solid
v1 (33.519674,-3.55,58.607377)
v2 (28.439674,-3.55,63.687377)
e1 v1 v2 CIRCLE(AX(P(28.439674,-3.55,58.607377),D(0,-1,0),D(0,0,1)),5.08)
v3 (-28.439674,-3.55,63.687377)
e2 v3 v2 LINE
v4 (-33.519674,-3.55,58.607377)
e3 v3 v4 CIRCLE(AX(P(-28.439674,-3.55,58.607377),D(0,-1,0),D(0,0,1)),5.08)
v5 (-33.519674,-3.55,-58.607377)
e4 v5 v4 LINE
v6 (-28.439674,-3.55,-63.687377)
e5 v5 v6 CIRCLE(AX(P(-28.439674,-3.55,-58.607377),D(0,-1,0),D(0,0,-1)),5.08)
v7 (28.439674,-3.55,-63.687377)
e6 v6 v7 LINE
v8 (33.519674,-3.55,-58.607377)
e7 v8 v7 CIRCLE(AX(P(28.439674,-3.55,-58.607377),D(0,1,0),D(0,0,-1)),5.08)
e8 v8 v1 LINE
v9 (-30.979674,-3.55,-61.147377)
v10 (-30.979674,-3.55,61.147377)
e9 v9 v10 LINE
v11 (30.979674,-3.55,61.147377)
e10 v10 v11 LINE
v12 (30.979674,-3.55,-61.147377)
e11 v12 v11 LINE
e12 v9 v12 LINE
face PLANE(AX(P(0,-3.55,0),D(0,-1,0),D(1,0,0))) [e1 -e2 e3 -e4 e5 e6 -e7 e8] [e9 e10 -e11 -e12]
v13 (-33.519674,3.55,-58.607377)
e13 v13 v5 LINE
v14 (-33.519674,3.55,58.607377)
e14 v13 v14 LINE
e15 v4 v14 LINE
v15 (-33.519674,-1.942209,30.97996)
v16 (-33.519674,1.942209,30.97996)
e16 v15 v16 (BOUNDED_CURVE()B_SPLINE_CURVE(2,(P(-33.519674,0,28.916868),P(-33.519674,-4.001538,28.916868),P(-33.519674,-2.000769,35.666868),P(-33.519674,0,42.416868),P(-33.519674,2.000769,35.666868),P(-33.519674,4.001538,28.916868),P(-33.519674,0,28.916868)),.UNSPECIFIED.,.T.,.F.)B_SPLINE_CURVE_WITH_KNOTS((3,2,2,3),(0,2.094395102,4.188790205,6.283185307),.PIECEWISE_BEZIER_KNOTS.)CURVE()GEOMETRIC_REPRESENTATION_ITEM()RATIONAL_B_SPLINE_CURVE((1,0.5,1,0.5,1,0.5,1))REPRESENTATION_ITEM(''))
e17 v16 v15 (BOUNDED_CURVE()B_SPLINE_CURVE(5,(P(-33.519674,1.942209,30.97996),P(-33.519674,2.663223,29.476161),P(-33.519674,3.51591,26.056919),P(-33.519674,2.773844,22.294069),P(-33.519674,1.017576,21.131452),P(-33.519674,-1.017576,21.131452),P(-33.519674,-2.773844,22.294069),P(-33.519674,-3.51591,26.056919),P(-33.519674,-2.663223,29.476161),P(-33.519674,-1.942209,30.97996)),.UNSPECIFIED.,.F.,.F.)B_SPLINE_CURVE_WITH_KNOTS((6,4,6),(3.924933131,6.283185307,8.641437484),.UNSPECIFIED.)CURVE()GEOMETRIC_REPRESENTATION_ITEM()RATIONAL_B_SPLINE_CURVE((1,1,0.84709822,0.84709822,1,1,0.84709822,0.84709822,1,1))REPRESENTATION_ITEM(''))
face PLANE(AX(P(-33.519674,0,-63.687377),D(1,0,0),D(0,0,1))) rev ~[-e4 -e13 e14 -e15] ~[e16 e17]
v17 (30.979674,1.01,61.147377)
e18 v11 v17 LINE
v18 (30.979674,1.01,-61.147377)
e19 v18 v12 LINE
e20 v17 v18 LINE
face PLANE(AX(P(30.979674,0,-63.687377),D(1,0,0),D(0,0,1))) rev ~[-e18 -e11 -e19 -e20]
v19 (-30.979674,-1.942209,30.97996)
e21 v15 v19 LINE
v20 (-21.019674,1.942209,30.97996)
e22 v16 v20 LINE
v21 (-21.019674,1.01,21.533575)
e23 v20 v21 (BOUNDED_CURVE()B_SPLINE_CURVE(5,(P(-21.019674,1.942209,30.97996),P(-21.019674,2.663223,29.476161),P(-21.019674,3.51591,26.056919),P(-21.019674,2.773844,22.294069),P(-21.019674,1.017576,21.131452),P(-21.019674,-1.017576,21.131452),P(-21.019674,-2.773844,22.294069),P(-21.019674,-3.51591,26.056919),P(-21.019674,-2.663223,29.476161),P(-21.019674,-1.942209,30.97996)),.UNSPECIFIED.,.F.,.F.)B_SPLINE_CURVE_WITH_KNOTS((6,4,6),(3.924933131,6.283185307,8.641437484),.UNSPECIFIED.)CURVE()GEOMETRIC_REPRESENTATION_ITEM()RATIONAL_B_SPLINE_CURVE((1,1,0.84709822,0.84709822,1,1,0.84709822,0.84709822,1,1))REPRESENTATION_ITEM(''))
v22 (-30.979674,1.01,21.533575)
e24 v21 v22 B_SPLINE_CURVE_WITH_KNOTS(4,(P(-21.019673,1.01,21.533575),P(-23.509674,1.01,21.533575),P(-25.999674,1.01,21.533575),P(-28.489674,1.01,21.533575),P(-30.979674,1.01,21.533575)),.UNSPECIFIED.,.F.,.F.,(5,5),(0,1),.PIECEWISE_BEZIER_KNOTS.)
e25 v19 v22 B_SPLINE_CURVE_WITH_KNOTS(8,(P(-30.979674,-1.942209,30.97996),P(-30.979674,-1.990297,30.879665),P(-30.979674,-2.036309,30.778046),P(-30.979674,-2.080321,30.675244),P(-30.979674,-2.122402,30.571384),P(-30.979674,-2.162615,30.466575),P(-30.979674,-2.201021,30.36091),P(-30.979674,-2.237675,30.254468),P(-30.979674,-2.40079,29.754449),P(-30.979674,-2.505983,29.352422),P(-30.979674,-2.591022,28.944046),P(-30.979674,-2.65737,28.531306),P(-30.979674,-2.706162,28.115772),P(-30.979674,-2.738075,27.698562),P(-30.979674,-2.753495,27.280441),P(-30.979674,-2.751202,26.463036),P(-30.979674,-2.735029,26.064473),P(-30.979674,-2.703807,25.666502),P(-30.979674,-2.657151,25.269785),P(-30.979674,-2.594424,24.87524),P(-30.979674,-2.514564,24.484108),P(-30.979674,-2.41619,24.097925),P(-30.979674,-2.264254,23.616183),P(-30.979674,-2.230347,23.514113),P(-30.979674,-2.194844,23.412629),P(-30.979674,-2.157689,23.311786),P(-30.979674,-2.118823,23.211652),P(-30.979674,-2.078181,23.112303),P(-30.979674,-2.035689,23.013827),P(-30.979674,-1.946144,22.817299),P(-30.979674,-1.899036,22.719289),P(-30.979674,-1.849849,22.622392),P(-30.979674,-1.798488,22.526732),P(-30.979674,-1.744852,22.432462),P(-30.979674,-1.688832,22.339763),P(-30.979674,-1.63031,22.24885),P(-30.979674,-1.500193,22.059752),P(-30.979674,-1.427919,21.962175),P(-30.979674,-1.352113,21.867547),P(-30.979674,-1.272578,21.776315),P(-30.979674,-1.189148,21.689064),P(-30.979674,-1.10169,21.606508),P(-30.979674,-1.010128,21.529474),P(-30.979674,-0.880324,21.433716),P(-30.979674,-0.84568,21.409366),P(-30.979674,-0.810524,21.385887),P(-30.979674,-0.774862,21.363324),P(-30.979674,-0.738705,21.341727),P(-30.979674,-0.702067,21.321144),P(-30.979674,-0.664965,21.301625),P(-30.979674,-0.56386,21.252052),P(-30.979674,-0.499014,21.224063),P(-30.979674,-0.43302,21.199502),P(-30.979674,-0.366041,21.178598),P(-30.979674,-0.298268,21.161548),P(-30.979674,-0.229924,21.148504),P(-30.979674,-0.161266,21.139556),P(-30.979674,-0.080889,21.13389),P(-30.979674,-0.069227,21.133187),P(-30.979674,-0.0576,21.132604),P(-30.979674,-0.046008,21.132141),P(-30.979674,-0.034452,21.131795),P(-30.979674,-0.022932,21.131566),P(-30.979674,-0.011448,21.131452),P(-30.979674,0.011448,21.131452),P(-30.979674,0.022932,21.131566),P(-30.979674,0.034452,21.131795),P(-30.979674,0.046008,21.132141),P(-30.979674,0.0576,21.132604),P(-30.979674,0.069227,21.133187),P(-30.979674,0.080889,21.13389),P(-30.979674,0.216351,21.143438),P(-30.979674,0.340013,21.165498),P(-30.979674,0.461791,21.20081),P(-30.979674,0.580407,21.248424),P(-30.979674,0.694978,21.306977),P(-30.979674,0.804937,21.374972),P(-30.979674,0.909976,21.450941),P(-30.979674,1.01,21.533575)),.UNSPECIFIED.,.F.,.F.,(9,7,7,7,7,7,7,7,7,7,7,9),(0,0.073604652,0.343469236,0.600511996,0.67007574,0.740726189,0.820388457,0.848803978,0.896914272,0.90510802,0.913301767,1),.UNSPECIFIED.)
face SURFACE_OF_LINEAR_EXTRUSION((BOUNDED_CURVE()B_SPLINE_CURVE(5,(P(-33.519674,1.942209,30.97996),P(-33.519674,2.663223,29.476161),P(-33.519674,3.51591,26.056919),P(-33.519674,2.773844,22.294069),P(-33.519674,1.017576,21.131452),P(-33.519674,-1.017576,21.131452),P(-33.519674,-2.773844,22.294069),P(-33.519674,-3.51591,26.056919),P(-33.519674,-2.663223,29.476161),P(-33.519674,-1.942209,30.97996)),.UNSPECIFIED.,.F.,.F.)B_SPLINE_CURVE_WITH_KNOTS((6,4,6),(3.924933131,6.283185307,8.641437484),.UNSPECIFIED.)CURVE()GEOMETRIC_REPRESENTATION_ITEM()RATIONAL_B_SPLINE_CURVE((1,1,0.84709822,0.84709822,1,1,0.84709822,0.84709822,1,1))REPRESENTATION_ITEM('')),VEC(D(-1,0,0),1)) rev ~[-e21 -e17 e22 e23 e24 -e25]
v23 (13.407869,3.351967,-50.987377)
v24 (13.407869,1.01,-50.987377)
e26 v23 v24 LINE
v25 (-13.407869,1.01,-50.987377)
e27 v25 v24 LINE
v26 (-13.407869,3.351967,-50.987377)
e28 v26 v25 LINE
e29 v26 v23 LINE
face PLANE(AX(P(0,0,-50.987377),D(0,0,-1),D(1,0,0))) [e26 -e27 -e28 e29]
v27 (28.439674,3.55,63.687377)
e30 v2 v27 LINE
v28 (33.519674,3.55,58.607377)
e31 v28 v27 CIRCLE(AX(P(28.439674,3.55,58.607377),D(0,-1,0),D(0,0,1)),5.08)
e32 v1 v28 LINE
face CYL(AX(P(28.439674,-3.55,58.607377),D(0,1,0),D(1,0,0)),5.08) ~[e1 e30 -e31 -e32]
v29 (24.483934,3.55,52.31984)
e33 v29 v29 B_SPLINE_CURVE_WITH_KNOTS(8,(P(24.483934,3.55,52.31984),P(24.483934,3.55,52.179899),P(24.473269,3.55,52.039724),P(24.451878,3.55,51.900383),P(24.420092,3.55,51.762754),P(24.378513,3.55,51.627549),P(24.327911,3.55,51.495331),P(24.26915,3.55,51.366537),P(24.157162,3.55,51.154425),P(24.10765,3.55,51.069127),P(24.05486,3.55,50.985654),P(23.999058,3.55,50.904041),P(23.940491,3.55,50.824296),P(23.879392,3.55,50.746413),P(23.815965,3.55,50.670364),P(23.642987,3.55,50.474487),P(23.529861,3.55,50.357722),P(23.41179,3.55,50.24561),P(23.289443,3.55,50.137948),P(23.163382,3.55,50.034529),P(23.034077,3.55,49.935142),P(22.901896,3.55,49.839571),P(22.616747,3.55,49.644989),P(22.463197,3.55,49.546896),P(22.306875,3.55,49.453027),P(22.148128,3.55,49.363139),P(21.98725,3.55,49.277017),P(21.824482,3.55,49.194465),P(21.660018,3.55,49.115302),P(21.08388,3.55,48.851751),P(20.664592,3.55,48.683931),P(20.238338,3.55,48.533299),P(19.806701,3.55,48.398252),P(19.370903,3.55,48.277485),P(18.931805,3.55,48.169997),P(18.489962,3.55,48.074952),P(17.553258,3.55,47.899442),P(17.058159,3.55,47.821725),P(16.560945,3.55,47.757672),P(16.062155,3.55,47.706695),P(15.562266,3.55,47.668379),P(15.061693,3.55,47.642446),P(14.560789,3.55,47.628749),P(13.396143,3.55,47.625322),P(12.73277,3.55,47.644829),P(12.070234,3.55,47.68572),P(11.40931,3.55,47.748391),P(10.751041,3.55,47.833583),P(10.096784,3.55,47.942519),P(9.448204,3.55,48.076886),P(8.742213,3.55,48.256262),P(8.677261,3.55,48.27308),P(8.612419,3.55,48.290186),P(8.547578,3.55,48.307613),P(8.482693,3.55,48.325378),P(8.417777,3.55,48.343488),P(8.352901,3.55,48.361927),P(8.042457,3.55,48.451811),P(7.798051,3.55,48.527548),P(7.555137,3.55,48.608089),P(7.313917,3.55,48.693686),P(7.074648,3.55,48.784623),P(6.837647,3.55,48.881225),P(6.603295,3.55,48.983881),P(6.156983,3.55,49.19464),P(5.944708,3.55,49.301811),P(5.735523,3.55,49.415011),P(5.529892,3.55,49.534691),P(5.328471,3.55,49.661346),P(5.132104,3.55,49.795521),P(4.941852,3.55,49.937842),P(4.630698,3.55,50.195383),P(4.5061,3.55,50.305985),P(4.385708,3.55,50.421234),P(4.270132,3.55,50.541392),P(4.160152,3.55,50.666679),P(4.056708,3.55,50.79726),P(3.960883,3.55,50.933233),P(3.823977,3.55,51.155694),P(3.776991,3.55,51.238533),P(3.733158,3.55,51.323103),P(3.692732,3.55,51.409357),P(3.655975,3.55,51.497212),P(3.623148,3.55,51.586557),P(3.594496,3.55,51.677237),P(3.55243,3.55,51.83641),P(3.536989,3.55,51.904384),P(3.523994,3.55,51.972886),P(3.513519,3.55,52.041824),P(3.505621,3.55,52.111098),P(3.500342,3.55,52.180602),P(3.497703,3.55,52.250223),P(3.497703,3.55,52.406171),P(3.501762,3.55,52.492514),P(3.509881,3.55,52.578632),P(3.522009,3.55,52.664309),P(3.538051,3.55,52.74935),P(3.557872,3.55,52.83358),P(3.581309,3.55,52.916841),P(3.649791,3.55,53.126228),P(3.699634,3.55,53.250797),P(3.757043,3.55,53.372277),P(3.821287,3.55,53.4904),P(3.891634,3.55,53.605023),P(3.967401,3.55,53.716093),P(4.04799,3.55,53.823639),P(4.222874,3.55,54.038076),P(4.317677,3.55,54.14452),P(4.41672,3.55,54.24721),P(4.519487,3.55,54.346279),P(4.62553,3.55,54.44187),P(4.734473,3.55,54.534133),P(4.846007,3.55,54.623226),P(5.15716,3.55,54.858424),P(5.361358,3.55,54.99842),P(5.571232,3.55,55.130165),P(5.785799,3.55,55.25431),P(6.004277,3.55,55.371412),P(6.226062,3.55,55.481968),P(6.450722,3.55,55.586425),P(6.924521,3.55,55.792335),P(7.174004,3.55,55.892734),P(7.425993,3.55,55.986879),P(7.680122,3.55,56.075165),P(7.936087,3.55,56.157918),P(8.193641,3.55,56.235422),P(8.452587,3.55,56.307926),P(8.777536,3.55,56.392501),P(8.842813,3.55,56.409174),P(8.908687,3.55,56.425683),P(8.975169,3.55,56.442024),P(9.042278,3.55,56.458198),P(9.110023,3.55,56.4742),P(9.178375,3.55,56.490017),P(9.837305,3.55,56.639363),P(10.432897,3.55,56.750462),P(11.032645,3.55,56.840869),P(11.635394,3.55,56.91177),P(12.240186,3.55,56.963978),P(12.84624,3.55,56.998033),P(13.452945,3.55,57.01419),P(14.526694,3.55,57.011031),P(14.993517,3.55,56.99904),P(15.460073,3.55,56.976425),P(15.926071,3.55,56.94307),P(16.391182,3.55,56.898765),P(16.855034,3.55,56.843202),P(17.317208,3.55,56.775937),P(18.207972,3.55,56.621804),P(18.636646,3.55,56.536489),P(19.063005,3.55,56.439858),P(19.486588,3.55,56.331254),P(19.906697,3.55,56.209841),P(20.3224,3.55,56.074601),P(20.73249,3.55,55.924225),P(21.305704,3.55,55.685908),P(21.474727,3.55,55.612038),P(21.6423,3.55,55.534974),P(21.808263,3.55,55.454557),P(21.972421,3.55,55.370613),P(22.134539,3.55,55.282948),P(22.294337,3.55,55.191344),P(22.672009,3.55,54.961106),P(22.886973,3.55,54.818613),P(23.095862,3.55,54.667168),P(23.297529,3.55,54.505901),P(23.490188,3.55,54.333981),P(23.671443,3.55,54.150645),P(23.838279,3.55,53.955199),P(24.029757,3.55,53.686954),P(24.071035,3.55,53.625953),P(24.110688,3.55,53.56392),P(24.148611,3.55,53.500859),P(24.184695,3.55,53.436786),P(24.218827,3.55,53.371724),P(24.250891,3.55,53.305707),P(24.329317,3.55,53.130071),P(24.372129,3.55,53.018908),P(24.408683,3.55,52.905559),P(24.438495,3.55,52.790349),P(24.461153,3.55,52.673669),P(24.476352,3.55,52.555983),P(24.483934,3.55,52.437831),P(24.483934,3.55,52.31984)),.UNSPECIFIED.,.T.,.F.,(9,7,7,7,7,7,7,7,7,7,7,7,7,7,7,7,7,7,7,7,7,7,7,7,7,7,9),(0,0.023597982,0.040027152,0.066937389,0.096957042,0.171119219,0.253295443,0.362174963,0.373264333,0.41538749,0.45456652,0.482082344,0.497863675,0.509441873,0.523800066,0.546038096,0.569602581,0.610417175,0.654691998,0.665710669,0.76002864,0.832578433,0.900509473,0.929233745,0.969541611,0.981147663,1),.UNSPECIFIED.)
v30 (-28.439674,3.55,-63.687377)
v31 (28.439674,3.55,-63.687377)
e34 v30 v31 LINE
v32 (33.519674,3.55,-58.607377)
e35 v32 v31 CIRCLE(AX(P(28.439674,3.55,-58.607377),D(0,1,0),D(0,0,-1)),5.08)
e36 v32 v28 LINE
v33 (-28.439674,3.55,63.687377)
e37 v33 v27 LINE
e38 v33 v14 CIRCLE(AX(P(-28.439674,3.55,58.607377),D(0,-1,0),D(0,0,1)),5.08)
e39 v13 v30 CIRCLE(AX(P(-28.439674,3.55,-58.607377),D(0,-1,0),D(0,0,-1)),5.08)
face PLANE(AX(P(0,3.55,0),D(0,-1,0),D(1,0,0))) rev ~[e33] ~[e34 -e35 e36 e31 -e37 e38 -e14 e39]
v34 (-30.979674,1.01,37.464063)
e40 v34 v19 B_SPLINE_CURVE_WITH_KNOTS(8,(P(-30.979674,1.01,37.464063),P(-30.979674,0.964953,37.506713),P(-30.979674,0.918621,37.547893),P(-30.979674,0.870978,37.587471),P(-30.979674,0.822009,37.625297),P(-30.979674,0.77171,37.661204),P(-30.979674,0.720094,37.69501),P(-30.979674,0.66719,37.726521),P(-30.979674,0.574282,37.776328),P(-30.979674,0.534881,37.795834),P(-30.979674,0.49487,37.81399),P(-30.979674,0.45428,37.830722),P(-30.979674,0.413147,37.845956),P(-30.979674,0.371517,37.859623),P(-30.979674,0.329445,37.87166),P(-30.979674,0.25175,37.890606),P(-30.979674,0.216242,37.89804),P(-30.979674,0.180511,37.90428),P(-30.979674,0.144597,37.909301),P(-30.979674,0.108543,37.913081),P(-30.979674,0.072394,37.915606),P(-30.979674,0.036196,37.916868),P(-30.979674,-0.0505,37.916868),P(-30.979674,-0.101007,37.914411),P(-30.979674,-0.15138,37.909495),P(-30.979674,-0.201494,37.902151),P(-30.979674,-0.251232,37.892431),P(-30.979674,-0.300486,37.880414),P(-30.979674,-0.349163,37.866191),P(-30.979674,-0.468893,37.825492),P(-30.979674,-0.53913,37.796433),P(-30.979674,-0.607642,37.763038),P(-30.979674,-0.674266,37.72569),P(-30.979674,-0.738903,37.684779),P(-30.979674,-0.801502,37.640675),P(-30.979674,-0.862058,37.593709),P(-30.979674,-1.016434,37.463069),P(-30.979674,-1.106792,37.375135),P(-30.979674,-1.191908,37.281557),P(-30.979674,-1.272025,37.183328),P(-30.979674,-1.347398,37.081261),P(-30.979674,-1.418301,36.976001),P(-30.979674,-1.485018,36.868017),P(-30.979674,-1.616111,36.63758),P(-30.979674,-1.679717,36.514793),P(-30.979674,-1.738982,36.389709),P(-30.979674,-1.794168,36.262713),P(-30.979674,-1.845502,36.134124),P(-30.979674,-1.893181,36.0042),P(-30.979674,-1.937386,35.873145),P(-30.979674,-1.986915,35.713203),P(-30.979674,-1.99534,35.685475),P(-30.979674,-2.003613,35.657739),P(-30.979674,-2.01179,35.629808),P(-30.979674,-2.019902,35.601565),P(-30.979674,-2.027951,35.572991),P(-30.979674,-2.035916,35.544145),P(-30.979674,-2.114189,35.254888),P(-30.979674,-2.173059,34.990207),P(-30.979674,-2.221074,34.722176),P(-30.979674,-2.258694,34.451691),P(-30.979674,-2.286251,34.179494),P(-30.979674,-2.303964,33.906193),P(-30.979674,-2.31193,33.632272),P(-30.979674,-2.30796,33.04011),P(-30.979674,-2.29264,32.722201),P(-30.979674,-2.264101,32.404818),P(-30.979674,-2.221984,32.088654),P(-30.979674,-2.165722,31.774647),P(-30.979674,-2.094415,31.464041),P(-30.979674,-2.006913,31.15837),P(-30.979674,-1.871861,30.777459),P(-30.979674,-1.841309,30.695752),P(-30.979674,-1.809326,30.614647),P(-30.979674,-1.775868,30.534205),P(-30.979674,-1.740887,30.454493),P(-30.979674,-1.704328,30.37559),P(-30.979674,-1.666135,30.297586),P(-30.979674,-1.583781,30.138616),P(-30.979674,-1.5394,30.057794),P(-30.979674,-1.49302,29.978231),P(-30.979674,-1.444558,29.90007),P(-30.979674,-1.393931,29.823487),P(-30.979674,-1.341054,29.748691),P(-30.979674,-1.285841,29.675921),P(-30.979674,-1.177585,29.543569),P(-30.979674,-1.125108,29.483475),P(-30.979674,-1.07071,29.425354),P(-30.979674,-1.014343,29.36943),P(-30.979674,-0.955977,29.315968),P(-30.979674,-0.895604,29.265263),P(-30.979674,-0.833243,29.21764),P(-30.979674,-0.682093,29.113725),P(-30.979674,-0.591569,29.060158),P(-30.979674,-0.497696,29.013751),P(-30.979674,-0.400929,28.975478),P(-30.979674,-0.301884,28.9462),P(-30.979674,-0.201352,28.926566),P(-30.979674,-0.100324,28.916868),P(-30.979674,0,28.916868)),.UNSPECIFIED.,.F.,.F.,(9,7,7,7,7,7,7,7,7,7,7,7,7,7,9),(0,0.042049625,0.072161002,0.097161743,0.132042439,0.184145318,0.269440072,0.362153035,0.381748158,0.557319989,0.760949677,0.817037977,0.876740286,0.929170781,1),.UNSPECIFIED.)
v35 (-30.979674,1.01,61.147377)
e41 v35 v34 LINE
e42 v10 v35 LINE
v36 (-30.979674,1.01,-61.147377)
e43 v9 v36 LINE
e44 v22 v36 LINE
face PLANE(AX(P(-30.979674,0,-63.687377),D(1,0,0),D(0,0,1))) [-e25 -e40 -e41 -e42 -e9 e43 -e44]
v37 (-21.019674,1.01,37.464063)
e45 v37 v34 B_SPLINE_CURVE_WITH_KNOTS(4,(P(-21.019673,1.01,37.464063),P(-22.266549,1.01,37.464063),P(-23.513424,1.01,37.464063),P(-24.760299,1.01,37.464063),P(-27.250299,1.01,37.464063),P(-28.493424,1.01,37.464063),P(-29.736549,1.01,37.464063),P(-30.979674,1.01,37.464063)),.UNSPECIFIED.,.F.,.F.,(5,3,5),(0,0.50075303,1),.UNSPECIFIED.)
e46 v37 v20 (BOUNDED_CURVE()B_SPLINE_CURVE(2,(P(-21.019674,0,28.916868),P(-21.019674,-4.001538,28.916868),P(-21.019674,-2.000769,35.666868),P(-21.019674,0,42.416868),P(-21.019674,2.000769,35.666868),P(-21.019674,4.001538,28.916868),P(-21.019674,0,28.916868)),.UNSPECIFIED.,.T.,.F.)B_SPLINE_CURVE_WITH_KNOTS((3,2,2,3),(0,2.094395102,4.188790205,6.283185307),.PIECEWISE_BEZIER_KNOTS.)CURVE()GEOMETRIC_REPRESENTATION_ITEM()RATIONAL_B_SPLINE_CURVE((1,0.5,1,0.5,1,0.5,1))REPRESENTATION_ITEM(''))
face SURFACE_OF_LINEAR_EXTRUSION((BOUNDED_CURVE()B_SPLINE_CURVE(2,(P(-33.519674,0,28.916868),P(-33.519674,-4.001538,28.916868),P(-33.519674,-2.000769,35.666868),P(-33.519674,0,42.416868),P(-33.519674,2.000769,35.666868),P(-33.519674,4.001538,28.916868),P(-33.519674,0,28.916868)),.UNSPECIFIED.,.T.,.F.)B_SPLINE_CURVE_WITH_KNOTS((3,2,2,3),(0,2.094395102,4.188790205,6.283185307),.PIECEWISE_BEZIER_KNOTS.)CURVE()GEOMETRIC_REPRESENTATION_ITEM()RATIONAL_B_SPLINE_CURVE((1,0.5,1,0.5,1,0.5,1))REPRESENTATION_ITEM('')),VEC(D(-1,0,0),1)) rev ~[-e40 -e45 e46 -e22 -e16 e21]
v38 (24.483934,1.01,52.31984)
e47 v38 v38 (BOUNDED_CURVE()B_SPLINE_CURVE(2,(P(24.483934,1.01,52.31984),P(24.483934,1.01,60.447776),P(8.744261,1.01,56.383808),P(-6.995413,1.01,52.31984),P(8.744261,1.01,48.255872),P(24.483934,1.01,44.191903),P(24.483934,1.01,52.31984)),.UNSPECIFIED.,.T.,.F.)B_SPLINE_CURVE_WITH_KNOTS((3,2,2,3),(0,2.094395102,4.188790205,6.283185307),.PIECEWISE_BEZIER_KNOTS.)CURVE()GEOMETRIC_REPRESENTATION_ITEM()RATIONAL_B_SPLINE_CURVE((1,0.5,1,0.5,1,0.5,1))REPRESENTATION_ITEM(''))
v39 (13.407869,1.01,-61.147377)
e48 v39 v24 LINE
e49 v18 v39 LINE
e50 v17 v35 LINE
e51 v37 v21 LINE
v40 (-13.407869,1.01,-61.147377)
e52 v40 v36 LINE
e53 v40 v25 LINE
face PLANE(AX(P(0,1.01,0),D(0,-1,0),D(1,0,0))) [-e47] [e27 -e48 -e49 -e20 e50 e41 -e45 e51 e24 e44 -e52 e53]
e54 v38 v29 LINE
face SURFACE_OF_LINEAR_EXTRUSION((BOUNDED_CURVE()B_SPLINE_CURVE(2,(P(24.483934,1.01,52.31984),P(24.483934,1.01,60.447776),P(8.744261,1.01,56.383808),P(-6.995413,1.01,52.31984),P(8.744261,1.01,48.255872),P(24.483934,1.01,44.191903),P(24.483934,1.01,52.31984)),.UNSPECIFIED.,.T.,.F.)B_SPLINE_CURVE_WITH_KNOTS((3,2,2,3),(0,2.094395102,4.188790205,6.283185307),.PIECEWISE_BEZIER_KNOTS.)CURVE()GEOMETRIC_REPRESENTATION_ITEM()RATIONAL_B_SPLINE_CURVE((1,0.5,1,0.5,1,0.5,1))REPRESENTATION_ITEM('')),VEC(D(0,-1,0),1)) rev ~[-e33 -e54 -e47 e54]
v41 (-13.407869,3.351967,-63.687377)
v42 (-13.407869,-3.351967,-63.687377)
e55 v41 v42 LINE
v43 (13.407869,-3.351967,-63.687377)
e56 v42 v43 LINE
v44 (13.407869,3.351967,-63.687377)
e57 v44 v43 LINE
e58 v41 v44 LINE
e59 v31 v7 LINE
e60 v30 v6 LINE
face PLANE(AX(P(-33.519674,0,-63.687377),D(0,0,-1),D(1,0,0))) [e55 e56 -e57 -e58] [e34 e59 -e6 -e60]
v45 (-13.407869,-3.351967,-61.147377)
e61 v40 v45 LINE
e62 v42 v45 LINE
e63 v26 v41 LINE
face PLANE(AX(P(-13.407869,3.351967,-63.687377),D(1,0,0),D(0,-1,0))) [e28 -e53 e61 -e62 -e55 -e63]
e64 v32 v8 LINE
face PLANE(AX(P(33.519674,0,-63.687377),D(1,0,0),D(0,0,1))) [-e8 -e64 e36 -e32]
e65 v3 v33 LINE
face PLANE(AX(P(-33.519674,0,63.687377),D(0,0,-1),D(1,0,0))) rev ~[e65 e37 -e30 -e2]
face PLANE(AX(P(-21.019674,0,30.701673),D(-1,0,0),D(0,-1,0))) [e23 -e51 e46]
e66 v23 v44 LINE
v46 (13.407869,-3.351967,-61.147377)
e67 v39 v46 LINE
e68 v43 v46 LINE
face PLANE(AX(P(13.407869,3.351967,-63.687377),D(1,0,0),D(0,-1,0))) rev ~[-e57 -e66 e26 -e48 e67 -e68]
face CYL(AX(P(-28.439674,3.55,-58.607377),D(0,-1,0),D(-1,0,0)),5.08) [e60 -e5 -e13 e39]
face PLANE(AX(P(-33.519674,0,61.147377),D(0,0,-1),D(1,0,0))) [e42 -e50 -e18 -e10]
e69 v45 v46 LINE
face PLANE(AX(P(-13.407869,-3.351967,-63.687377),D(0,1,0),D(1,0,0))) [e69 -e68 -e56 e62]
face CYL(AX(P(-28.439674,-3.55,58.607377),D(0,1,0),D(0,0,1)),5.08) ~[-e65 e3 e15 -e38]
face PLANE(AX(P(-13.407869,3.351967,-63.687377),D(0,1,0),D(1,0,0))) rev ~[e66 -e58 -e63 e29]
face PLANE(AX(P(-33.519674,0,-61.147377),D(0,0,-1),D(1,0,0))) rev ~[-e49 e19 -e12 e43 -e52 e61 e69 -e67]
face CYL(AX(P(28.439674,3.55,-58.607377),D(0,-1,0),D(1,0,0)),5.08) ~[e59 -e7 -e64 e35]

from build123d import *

# Parameters (mm, degrees)
F0_W      = 67.0393481851
F0_H      = 127.374753356
F1_DEPTH  = 3.55
F2_T      = -2.54
F3_R      = 5.08
F6_DEPTH  = 12.7
F7_W      = 26.815738529
F7_H      = 6.7039346322
F8_DEPTH  = 12.7
F10_DEPTH = 12.5
F12_DEPTH = 12.5


with BuildPart() as f1:
    # F0 (on Front) → F1 (new body, symmetric)
    with BuildSketch(Plane.XZ):
        Rectangle(F0_W, F0_H)
    extrude(amount=F1_DEPTH, both=True)

    # F2
    f2_openings = [f1.faces().sort_by_distance(p)[0] for p in [
        (0, -3.55, 0),
    ]]
    offset(amount=F2_T, openings=f2_openings)

    # F3
    f3_edges = [f1.edges().sort_by_distance(p)[0] for p in [
        (33.519674, 0, -63.687377),
        (-33.519674, 0, -63.687377),
        (-33.519674, 0, 63.687377),
        (33.519674, 0, 63.687377),
    ]]
    fillet(f3_edges, radius=F3_R)

    # F5 (on face) → F6 (cut, symmetric)
    with BuildSketch(Plane.XZ.offset(-1.01)):
        with BuildLine():
            add(Edge.make_bspline(
                [(24.4839340448, 52.3198395967), (24.4839340448, 60.4477757444), (8.7442607619, 56.3838076706), (-6.9954125211, 52.3198395967), (8.7442607619, 48.2558715229), (24.4839340448, 44.1919034491), (24.4839340448, 52.3198395967)],
                knots=[0, 0, 0, 2.0943951024, 2.0943951024, 4.1887902048, 4.1887902048, 6.2831853072, 6.2831853072, 6.2831853072], degree=2, weights=[1, 0.5, 1, 0.5, 1, 0.5, 1]))
        make_face()
    extrude(amount=F6_DEPTH, both=True, mode=Mode.SUBTRACT)

    # F7 (on face) → F8 (cut, symmetric)
    with BuildSketch(Plane(origin=(0, 0, -63.687376678), x_dir=(1, 0, 0), z_dir=(0, 0, -1))):
        Rectangle(F7_W, F7_H)
    extrude(amount=F8_DEPTH, both=True, mode=Mode.SUBTRACT)

    # F9 (on face) → F10 (cut, symmetric)
    with BuildSketch(Plane(origin=(-33.5196740925, 0, 0), x_dir=(0, -1, 0), z_dir=(-1, 0, 0))):
        with BuildLine():
            add(Edge.make_bspline(
                [(0, 28.9168681979), (4.0015380048, 28.9168681979), (2.0007690024, 35.6668681979), (0, 42.4168681979), (-2.0007690024, 35.6668681979), (-4.0015380048, 28.9168681979), (0, 28.9168681979)],
                knots=[0, 0, 0, 2.0943951024, 2.0943951024, 4.1887902048, 4.1887902048, 6.2831853072, 6.2831853072, 6.2831853072], degree=2, weights=[1, 0.5, 1, 0.5, 1, 0.5, 1]))
        make_face()
    extrude(amount=F10_DEPTH, both=True, mode=Mode.SUBTRACT)

    # F11 (on face) → F12 (cut, symmetric)
    with BuildSketch(Plane(origin=(-33.5196740925, 0, 0), x_dir=(0, -1, 0), z_dir=(-1, 0, 0))):
        with BuildLine():
            add(Edge.make_bspline(
                [(0, 28.9168681979), (1.2599189299, 28.9168681979), (1.9422093652, 30.9799598491)],
                knots=[0, 0, 0, 1.0030560238, 1.0030560238, 1.0030560238], degree=2, weights=[1, 0.7605380134, 0.7504441989]))
            add(Edge.make_bspline(
                [(1.9422093652, 30.9799598491), (0, 35.0307743016), (-1.9422093652, 30.9799598491)],
                knots=[2.3582521763, 2.3582521763, 2.3582521763, 3.9249331309, 3.9249331309, 3.9249331309], degree=2, weights=[1, 0.708560287, 1]))
            add(Edge.make_bspline(
                [(-1.9422093652, 30.9799598491), (-1.2599189299, 28.9168681979), (0, 28.9168681979)],
                knots=[5.2801292834, 5.2801292834, 5.2801292834, 6.2831853072, 6.2831853072, 6.2831853072], degree=2, weights=[0.7504441989, 0.7605380134, 1]))
        make_face()
        with BuildLine():
            add(Edge.make_bspline(
                [(-1.9422093652, 30.9799598491), (-6.6641891215, 21.131452173), (0, 21.131452173)],
                knots=[3.9249331309, 3.9249331309, 3.9249331309, 6.2831853072, 6.2831853072, 6.2831853072], degree=2, weights=[1, 0.381732703, 1]))
            add(Edge.make_bspline(
                [(0, 21.131452173), (6.6641891215, 21.131452173), (1.9422093652, 30.9799598491)],
                knots=[0, 0, 0, 2.3582521763, 2.3582521763, 2.3582521763], degree=2, weights=[1, 0.381732703, 1]))
            add(Edge.make_bspline(
                [(0, 28.9168681979), (1.2599189299, 28.9168681979), (1.9422093652, 30.9799598491)],
                knots=[0, 0, 0, 1.0030560238, 1.0030560238, 1.0030560238], degree=2, weights=[1, 0.7605380134, 0.7504441989]))
            add(Edge.make_bspline(
                [(-1.9422093652, 30.9799598491), (-1.2599189299, 28.9168681979), (0, 28.9168681979)],
                knots=[5.2801292834, 5.2801292834, 5.2801292834, 6.2831853072, 6.2831853072, 6.2831853072], degree=2, weights=[0.7504441989, 0.7605380134, 1]))
        make_face()
    extrude(amount=F12_DEPTH, both=True, mode=Mode.SUBTRACT)


solid = f1.part
